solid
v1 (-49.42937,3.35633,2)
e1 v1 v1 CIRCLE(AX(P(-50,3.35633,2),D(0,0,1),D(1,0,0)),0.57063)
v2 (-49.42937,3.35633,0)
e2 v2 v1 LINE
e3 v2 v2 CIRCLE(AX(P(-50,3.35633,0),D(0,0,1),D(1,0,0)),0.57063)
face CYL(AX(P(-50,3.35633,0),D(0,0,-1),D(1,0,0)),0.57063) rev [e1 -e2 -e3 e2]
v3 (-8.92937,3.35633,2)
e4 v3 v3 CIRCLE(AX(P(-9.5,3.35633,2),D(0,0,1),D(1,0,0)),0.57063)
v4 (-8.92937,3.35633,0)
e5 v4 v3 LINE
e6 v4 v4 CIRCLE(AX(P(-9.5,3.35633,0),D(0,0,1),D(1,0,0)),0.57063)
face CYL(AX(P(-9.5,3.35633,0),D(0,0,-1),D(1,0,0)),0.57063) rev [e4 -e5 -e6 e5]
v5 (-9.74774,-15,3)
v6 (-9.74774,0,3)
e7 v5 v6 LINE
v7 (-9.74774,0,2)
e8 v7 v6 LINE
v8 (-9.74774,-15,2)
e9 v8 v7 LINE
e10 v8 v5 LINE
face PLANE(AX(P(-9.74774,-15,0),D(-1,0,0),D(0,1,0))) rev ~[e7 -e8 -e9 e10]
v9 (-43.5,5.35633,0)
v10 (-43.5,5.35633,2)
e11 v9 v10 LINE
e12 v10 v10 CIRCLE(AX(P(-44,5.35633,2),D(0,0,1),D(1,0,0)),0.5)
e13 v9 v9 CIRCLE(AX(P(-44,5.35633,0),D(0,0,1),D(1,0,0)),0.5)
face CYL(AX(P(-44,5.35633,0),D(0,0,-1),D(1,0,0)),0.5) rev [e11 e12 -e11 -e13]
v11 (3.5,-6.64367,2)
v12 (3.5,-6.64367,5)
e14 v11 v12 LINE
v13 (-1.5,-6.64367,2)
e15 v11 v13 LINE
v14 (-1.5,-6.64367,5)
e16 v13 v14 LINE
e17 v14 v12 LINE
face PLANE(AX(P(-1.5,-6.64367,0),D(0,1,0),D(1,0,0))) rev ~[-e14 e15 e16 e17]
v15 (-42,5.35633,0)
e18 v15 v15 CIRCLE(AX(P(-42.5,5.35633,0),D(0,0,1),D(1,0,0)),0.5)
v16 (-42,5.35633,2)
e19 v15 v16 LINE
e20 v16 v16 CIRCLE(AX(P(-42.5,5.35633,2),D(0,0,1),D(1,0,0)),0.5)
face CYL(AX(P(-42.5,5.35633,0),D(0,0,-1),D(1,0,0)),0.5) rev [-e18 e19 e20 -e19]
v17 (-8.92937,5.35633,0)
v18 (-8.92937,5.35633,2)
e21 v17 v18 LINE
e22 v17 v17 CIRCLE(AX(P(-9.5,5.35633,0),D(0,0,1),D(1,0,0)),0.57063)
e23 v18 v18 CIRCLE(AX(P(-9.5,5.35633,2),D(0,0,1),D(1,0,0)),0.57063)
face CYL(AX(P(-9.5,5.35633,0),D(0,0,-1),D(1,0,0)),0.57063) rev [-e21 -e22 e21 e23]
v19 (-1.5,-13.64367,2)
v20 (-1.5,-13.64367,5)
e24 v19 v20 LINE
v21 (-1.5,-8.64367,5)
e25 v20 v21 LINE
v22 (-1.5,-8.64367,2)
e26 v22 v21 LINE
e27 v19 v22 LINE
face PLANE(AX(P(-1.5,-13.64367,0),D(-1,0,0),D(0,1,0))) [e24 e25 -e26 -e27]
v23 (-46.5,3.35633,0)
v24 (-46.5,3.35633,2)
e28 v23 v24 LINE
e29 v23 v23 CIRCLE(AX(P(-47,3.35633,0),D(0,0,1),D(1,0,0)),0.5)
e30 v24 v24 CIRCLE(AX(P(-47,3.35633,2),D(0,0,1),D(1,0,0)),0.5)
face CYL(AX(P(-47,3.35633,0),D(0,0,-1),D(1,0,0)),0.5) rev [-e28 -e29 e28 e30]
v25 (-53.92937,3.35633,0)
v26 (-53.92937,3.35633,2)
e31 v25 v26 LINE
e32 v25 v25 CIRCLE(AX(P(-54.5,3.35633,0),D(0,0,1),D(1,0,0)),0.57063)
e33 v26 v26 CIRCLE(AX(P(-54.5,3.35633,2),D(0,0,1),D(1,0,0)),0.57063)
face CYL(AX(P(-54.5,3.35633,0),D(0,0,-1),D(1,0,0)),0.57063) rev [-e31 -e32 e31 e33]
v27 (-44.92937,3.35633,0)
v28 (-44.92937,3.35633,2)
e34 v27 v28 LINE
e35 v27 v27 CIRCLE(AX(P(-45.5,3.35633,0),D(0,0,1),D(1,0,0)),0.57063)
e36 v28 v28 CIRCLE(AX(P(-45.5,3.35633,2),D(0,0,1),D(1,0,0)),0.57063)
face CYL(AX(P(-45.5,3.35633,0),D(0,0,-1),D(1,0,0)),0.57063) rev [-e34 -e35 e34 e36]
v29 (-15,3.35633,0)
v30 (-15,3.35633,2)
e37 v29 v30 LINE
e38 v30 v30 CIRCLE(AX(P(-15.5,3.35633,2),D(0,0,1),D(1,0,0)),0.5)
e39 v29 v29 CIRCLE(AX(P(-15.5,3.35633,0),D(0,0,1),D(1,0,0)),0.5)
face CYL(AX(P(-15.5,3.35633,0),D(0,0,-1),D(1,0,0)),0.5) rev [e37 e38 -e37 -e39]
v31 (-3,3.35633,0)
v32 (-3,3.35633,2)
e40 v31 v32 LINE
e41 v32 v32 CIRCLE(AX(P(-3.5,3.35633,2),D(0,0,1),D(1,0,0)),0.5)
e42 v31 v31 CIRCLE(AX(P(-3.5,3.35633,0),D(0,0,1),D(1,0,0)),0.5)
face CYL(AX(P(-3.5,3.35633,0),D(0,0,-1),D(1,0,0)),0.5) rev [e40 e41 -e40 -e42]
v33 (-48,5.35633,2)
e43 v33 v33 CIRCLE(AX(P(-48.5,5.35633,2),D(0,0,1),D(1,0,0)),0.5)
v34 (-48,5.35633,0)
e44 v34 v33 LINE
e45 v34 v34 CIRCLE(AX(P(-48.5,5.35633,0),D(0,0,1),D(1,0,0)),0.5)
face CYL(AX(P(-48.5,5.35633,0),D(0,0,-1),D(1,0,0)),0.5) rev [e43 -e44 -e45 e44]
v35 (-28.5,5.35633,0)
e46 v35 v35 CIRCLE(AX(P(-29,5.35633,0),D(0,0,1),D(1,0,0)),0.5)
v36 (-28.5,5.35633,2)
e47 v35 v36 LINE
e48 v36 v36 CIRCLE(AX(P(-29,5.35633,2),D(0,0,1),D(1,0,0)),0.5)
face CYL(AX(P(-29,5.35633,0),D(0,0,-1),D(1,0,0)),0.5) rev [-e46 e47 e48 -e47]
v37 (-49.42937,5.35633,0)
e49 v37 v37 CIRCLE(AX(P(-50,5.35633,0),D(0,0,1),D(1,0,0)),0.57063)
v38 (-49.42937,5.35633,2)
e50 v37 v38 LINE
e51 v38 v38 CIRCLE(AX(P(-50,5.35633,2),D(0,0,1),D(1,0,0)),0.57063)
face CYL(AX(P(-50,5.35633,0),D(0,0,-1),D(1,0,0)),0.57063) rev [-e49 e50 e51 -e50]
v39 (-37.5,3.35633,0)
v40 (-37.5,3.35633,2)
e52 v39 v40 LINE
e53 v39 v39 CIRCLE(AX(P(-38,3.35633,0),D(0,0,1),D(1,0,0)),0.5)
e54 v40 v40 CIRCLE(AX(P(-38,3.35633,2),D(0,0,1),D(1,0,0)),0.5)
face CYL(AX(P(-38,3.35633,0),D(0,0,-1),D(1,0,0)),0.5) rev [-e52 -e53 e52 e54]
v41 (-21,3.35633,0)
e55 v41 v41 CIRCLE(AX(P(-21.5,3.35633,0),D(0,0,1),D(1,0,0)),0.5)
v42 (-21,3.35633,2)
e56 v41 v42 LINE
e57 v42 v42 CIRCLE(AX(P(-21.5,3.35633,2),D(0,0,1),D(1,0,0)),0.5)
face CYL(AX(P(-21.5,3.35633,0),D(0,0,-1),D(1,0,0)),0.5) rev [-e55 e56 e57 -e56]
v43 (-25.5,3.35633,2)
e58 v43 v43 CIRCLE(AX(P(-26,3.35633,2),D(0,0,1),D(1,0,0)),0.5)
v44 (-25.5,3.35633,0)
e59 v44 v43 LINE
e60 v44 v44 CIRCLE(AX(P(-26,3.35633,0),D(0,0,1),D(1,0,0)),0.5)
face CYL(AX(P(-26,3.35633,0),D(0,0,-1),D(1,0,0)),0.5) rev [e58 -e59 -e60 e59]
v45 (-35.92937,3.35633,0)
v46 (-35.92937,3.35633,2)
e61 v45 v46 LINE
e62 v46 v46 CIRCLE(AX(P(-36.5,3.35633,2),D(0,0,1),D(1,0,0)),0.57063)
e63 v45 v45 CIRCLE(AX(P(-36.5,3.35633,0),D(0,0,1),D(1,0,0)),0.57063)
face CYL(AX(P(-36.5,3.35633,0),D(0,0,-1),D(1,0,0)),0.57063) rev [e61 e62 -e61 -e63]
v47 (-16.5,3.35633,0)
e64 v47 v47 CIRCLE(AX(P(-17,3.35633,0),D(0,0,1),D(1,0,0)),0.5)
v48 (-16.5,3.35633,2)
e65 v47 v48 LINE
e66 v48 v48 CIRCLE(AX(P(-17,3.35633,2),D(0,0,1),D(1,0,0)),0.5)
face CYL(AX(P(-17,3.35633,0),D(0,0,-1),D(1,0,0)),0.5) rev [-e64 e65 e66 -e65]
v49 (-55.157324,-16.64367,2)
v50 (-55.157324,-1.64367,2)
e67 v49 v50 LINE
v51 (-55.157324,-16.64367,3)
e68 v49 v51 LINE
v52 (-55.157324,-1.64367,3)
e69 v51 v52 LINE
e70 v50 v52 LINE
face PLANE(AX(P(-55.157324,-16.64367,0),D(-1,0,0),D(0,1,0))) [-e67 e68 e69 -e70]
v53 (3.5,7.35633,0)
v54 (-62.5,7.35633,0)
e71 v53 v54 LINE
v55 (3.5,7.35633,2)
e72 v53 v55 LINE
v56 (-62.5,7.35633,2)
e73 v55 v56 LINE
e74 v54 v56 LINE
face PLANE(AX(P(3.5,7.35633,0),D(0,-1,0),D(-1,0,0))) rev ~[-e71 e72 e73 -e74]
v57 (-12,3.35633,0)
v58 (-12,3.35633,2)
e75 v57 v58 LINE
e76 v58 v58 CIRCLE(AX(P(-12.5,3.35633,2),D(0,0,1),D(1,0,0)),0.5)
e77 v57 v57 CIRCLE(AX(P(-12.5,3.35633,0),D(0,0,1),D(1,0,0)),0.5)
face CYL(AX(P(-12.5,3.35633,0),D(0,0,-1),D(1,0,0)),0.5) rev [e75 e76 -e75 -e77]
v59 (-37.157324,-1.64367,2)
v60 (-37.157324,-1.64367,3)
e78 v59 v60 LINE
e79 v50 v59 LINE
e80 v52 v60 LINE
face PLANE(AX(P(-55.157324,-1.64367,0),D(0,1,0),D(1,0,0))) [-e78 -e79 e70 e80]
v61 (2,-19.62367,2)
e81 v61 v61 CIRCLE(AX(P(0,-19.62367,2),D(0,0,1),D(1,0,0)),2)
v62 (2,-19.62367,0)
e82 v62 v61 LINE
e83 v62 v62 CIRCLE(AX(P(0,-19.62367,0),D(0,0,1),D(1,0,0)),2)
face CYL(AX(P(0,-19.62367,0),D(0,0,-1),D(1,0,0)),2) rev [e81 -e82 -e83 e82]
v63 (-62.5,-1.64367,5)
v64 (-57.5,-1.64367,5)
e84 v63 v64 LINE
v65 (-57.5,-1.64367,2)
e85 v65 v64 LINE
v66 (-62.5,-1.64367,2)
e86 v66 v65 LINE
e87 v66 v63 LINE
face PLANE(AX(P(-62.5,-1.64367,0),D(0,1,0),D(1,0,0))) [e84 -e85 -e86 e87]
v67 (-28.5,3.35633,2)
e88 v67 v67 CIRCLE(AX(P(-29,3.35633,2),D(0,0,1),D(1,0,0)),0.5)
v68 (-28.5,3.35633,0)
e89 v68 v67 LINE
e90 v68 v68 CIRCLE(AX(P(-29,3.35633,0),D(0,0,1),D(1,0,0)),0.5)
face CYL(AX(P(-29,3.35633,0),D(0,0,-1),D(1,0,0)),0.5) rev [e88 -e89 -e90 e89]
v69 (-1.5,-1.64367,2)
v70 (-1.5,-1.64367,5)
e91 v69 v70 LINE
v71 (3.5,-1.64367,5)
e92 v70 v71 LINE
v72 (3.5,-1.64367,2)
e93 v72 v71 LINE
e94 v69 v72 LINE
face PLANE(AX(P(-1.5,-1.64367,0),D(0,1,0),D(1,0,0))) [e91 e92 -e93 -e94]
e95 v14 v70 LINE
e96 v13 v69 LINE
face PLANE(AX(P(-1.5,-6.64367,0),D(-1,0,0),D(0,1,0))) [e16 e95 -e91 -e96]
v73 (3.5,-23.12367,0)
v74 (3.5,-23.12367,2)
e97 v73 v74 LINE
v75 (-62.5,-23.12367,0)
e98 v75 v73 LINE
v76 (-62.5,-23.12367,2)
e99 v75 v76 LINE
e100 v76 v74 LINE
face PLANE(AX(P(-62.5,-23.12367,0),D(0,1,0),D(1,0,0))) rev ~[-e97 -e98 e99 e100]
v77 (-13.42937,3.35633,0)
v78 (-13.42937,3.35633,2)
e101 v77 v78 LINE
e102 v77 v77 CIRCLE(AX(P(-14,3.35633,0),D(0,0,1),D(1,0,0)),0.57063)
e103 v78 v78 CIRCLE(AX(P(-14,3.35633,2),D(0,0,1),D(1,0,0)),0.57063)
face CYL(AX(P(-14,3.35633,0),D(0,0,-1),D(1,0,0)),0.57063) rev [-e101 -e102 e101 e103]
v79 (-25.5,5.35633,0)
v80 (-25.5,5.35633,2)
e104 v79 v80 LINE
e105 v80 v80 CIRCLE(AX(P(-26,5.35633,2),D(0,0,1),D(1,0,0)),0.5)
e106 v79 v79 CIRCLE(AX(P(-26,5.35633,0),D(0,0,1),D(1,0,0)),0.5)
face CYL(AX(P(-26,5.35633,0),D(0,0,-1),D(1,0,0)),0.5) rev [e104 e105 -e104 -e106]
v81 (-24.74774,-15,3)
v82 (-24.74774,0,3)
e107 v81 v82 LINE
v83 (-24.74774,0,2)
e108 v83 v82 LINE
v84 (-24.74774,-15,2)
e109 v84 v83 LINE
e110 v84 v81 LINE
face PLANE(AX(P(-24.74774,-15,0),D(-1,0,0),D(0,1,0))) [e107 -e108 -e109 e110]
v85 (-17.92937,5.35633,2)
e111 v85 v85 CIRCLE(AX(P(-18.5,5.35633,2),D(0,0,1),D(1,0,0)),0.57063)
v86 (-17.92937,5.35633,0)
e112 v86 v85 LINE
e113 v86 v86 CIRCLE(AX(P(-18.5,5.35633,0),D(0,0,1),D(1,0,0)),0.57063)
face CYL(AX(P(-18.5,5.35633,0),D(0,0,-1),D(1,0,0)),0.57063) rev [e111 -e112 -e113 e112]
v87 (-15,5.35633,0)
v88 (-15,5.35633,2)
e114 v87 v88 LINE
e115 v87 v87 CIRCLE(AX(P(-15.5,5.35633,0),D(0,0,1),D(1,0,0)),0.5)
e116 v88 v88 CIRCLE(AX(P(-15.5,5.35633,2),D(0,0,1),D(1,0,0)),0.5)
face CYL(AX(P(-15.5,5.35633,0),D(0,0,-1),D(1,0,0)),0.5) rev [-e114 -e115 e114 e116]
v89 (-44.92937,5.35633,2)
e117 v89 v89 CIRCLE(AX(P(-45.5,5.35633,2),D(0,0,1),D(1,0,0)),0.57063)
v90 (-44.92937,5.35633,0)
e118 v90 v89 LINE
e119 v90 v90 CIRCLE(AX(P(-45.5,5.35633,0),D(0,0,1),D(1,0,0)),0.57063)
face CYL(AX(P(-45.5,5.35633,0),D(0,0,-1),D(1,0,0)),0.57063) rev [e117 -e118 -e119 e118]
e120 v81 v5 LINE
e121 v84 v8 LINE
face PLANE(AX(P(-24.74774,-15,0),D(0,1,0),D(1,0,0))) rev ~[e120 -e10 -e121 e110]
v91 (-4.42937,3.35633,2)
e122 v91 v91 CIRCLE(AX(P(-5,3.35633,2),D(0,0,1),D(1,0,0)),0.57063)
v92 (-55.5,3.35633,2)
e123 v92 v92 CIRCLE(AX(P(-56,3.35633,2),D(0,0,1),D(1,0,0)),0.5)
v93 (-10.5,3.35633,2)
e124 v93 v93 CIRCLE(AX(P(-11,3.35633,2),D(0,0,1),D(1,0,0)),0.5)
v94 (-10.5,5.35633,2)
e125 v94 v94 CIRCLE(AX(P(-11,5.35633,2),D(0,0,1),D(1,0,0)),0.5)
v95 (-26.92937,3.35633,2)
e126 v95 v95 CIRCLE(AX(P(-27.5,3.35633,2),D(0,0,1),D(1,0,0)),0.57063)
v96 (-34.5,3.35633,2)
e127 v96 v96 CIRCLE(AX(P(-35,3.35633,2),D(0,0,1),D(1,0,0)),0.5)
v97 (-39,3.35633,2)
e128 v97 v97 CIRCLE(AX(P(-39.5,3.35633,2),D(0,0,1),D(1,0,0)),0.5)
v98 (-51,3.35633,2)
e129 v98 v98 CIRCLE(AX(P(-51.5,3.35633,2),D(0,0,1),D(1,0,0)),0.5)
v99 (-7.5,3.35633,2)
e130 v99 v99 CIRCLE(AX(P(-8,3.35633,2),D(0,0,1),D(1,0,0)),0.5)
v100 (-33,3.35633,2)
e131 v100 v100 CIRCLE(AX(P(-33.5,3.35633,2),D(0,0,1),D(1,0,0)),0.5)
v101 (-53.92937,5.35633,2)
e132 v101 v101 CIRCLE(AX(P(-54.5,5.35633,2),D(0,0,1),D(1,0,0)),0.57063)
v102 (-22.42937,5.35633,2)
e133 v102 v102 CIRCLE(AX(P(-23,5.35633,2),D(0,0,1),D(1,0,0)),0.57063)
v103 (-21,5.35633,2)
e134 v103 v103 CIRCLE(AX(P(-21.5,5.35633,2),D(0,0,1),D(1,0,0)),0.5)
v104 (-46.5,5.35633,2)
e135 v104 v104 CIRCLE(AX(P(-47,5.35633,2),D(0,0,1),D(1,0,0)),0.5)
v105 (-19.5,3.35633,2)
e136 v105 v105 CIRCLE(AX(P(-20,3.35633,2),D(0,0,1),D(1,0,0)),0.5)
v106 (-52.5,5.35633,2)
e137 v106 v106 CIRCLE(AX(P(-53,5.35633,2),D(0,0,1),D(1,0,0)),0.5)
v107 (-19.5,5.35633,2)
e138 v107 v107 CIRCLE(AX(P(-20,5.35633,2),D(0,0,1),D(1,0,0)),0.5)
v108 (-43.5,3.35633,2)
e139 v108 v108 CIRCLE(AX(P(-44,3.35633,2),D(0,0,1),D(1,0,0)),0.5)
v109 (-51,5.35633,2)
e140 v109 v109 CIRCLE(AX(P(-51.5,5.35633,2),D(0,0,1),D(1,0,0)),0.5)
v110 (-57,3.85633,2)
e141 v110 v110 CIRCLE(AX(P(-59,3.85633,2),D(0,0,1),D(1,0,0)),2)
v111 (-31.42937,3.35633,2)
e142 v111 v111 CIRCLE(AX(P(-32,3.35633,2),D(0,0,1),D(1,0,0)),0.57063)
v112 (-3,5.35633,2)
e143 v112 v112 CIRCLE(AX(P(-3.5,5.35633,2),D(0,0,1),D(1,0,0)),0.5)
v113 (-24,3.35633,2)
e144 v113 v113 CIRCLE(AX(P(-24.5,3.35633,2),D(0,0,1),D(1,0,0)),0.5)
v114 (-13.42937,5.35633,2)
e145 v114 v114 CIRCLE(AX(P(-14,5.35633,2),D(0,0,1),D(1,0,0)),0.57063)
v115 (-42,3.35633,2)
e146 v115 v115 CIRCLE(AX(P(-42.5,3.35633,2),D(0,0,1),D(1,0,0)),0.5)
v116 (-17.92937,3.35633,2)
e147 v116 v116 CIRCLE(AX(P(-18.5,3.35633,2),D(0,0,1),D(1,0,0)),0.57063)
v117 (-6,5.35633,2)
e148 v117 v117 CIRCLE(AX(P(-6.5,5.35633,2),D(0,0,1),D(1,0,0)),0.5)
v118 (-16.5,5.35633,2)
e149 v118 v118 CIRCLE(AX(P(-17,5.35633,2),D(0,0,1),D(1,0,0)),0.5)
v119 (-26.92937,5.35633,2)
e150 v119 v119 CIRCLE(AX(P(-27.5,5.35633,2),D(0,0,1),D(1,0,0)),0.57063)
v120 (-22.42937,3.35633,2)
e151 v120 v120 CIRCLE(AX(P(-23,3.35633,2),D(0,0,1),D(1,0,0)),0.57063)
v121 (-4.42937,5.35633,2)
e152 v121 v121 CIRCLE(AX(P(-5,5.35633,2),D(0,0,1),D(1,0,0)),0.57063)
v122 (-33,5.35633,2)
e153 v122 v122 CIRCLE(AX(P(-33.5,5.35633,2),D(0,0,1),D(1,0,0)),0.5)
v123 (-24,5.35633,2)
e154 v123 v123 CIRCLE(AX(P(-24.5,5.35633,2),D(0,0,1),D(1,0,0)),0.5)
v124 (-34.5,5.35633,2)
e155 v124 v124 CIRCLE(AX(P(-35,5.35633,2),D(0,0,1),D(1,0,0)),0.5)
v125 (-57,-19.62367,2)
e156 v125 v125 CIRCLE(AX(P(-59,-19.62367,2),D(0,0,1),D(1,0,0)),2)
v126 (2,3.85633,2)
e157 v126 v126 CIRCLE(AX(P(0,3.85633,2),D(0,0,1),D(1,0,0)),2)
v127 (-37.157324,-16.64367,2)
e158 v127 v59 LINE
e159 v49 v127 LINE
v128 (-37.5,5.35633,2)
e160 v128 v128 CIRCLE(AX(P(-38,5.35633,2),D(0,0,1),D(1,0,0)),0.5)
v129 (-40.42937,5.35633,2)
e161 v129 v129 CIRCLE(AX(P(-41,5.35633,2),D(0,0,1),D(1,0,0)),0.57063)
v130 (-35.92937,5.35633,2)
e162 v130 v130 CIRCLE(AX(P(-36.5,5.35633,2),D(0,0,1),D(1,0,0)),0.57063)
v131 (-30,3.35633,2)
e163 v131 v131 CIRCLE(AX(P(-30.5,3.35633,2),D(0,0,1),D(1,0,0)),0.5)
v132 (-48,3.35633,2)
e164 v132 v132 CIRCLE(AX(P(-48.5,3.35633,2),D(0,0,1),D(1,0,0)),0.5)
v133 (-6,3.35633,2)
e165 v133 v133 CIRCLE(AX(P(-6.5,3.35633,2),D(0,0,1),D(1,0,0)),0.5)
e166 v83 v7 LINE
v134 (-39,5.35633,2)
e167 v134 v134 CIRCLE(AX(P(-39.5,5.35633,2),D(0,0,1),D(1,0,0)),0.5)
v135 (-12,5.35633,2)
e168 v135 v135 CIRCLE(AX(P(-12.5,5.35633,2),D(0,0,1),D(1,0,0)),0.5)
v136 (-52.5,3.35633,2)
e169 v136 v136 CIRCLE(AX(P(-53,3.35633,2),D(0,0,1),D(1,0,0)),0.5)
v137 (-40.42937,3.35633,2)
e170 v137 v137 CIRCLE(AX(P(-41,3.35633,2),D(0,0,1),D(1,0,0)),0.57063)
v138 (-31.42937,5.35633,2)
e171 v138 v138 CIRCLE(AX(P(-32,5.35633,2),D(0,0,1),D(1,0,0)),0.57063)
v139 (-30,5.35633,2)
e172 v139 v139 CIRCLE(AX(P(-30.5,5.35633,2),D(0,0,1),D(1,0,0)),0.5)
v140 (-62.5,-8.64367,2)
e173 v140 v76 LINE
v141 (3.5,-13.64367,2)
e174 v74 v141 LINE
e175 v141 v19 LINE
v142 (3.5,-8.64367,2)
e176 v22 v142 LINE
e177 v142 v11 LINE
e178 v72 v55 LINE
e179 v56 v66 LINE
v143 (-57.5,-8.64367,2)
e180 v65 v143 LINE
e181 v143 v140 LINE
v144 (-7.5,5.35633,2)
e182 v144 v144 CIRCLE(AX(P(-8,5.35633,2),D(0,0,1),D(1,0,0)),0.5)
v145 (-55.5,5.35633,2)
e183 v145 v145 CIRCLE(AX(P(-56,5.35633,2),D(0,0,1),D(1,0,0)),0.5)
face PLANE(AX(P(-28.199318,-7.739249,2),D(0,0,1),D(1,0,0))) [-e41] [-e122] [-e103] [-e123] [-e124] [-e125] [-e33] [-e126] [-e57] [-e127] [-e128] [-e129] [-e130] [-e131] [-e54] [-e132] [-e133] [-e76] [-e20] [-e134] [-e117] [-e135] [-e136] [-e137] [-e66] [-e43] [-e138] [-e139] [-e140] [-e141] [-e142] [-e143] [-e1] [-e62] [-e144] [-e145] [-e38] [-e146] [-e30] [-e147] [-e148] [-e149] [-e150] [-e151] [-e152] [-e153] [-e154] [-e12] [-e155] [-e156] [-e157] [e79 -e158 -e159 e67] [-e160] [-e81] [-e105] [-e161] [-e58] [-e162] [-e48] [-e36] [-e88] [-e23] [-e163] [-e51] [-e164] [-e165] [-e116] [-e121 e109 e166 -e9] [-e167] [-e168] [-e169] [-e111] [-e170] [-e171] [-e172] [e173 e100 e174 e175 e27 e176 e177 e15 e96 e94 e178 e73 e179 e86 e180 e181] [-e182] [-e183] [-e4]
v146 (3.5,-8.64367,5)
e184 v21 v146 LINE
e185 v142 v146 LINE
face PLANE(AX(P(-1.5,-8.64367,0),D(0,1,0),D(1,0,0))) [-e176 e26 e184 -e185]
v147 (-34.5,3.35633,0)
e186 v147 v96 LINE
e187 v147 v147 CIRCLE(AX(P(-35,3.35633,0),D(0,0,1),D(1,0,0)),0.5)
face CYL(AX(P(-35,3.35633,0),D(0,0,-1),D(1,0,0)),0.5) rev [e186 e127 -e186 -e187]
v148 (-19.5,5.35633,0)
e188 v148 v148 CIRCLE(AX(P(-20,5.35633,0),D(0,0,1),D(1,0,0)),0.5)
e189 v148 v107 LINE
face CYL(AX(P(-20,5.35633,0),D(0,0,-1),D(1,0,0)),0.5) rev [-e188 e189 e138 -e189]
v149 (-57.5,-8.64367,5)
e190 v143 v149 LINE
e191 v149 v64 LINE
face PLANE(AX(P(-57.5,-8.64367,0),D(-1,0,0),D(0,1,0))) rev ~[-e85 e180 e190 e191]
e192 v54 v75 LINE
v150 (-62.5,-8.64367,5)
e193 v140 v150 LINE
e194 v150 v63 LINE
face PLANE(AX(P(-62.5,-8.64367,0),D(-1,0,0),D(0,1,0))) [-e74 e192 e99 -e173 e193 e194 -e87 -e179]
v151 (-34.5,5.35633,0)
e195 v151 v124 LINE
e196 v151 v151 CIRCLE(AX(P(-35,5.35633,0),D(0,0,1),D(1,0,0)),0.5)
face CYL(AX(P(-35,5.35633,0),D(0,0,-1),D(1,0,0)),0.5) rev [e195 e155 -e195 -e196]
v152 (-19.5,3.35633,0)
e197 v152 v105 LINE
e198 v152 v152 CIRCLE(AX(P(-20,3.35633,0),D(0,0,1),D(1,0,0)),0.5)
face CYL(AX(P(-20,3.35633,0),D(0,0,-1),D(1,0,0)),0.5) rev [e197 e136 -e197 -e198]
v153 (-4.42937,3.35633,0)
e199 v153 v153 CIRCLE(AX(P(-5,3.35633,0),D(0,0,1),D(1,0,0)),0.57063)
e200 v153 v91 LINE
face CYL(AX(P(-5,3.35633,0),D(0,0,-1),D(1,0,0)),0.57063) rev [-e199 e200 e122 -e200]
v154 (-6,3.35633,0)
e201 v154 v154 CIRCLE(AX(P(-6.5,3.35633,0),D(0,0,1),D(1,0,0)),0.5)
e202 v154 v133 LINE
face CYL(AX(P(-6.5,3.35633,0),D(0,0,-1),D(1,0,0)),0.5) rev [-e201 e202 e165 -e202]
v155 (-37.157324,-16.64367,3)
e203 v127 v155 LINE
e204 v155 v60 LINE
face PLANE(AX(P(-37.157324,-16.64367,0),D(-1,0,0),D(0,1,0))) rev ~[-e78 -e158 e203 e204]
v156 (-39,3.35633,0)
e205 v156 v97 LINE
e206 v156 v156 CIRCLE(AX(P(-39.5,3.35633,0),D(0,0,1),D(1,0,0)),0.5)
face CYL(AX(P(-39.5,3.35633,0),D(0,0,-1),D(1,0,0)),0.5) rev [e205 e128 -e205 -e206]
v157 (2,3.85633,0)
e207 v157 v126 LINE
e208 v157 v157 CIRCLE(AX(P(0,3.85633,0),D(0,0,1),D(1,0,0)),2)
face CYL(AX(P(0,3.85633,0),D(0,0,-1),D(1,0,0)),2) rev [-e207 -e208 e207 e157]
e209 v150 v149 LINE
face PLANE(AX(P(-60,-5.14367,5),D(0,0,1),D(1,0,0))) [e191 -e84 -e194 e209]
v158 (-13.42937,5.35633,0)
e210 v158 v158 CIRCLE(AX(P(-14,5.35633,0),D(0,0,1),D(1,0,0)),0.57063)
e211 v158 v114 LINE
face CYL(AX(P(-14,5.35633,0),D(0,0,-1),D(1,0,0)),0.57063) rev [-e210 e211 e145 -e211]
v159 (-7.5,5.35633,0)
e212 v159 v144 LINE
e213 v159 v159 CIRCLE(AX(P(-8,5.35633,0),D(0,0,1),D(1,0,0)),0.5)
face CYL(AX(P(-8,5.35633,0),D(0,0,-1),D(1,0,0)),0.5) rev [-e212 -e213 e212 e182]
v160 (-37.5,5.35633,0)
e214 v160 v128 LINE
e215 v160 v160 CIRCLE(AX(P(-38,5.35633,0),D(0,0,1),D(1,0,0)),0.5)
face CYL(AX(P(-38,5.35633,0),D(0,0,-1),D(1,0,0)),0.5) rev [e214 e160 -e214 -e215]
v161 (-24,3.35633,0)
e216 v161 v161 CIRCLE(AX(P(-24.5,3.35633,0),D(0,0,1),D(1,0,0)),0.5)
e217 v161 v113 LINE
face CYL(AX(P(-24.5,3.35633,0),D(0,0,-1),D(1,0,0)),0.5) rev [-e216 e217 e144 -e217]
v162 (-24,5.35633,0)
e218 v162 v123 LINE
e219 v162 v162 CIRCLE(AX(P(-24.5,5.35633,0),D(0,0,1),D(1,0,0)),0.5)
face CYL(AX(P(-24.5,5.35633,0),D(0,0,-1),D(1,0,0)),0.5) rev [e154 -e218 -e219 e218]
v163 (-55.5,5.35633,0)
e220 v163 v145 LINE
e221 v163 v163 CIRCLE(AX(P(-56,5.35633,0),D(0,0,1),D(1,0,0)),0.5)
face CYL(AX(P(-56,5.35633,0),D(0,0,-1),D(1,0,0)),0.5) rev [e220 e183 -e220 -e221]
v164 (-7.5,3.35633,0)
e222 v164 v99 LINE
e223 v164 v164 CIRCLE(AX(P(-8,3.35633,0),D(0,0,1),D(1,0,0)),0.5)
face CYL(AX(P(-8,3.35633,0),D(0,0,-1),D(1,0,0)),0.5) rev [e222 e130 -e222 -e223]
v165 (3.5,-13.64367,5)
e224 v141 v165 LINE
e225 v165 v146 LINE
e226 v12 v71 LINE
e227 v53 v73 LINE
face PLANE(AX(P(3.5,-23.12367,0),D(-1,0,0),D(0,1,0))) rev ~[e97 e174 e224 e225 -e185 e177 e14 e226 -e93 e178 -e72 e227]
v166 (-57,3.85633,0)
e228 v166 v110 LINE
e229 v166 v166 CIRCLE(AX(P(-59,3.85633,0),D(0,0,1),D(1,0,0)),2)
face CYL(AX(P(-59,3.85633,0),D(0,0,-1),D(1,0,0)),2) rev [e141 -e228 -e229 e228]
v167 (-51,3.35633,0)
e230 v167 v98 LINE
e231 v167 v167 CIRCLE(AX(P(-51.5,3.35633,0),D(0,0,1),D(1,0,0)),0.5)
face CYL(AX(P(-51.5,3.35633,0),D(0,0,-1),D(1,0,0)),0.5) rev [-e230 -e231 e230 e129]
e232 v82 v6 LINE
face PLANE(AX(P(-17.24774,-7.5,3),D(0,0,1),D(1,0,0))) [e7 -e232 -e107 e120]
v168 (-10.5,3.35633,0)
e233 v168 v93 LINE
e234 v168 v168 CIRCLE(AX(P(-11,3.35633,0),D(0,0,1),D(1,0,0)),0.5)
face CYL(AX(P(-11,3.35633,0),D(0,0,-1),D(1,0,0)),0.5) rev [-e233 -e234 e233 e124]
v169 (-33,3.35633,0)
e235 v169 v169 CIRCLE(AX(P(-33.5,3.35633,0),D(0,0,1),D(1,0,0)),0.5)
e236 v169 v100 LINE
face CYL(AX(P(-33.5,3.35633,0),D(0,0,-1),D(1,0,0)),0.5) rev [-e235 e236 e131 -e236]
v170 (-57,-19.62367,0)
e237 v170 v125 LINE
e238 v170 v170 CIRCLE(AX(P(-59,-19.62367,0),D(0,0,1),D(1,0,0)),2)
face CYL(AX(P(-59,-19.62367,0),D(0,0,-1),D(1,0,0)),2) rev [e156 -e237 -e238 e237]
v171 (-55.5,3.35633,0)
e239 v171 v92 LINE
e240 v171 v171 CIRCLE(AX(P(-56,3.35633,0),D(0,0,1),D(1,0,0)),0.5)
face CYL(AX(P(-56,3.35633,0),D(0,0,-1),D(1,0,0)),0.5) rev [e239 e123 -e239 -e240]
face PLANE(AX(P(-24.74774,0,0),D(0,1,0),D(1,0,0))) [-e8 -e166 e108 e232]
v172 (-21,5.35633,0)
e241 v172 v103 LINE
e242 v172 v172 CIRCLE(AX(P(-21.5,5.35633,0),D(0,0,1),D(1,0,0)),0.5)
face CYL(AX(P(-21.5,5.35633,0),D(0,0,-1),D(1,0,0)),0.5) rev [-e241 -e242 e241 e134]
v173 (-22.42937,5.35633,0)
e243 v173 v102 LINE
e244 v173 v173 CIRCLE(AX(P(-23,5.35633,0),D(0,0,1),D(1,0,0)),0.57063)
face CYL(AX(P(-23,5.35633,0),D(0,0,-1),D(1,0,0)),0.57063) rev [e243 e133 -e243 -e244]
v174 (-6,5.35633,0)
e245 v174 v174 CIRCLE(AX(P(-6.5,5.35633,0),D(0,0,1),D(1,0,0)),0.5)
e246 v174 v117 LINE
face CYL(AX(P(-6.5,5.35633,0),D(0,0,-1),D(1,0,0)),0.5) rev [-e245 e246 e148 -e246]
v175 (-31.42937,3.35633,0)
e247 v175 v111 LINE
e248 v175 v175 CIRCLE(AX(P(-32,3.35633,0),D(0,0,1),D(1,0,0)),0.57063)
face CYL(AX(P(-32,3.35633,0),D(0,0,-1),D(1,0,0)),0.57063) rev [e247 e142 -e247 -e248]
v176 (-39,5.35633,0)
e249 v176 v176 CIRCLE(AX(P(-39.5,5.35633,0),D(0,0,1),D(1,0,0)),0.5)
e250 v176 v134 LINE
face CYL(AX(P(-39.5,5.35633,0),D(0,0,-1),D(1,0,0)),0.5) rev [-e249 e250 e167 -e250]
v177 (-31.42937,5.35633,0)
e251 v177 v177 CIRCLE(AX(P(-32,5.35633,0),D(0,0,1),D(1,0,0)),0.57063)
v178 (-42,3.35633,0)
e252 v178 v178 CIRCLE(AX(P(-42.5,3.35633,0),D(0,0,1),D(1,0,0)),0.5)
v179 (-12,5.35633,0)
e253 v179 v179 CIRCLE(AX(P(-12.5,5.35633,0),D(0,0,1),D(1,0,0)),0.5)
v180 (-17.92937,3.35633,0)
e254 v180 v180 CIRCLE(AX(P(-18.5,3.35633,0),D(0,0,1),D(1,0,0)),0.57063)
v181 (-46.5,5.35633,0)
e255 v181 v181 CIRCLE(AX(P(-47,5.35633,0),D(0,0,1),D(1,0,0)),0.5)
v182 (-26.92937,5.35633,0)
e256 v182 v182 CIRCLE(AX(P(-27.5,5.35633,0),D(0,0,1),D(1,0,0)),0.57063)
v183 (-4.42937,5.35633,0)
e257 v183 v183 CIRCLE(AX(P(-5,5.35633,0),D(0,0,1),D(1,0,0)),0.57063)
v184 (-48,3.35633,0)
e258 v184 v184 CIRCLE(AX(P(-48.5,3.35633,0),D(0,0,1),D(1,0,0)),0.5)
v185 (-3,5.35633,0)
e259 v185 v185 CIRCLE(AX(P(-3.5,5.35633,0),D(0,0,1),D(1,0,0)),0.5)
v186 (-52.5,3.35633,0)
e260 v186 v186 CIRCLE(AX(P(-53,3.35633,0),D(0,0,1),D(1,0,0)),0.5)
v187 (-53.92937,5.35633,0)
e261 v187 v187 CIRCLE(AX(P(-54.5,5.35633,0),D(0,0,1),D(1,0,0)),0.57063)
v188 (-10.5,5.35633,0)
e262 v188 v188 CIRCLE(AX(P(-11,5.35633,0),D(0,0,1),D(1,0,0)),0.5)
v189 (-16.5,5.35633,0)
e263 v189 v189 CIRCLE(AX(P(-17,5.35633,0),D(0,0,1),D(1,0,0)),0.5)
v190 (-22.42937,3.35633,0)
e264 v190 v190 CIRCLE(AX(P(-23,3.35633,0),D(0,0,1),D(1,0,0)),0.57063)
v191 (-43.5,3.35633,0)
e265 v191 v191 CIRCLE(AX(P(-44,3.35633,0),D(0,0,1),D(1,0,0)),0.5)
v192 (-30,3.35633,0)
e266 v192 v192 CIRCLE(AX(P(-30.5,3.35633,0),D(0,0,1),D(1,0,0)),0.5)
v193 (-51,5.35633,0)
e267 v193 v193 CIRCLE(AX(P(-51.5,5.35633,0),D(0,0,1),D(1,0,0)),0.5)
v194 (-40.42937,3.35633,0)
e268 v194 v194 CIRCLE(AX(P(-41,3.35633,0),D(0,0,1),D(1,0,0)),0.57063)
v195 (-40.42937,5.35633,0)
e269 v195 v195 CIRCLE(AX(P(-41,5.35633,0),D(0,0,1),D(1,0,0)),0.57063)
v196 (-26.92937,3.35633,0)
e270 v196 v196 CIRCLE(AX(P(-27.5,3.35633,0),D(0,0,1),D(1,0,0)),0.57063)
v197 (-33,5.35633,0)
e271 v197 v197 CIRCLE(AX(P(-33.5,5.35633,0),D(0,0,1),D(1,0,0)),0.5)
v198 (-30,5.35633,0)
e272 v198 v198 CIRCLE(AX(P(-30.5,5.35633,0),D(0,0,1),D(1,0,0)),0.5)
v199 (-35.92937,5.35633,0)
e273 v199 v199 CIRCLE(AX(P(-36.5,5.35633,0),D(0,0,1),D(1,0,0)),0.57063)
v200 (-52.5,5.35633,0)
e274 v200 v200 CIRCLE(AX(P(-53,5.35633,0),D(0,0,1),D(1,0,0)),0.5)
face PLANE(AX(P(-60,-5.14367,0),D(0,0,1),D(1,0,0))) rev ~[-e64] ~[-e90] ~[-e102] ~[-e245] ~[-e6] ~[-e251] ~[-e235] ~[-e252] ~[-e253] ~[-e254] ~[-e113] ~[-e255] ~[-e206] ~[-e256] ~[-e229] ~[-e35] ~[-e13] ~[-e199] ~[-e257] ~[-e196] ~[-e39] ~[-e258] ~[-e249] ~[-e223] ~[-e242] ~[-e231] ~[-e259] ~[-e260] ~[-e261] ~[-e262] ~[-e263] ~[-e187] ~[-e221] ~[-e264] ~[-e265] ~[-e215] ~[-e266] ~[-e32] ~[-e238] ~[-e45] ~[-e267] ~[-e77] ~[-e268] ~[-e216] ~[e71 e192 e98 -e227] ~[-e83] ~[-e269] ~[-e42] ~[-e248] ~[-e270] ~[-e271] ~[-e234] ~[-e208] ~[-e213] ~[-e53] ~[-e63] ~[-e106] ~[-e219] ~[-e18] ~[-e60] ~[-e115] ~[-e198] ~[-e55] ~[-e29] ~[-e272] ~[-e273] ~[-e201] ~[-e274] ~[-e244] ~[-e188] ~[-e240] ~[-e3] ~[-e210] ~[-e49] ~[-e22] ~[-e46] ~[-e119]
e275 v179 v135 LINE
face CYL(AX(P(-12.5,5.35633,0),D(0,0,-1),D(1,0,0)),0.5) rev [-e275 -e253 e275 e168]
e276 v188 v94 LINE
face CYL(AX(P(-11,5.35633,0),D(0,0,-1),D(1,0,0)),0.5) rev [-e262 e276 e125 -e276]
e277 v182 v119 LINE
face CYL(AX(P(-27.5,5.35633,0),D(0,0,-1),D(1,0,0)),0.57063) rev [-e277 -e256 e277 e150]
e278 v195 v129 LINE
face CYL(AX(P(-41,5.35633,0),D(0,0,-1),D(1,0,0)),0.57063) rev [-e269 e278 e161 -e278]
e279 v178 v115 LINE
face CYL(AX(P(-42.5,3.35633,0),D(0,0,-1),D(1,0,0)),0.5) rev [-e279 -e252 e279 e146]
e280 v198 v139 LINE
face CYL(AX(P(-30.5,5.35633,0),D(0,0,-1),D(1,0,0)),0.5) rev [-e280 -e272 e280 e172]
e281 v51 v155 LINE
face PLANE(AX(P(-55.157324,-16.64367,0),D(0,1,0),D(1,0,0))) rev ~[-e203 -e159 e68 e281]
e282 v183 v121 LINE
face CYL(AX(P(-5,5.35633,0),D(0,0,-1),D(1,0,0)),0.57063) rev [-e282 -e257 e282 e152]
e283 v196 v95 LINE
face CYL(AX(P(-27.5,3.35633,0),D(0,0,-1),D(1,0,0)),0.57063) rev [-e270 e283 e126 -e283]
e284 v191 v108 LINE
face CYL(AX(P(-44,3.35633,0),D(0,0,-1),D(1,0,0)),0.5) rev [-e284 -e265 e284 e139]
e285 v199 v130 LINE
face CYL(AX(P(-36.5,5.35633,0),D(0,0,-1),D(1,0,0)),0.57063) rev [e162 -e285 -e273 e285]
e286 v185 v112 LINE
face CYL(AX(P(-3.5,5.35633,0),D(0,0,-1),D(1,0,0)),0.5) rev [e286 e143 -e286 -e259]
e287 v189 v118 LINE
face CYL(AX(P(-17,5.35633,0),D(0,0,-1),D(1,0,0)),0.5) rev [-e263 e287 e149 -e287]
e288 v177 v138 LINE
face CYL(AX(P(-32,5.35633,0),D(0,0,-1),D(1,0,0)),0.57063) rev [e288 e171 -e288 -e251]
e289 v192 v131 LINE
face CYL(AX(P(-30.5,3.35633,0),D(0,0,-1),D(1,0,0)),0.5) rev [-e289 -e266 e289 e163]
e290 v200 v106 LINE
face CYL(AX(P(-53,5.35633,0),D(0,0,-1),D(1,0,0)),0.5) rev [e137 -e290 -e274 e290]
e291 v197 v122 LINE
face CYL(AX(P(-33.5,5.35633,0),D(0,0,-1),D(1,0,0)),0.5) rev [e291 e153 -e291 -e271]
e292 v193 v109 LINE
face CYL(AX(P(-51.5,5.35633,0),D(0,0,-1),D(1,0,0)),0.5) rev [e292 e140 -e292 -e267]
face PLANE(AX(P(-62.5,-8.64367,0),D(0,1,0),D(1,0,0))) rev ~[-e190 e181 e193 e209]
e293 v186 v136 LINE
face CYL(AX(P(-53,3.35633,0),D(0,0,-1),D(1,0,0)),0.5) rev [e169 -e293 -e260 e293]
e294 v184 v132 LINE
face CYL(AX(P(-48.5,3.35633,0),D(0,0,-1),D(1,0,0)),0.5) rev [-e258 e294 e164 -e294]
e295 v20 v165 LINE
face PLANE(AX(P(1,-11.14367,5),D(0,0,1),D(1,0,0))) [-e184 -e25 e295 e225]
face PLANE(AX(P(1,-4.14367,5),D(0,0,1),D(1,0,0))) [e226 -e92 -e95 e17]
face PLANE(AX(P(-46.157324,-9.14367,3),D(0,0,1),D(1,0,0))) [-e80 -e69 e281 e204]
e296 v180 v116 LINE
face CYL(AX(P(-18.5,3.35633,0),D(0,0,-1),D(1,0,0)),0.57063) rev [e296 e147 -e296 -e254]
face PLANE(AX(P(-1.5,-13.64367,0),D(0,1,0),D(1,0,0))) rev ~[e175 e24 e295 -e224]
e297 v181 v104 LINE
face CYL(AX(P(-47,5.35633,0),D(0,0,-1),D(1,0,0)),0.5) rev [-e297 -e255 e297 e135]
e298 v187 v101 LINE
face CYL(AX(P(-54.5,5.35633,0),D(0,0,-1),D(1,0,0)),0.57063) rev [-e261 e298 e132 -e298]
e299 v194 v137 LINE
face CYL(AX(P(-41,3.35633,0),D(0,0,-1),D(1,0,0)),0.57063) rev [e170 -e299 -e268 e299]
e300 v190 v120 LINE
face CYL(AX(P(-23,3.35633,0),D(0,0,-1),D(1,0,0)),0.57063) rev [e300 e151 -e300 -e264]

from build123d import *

# Parameters (mm, degrees)
SKETCH1_R           = 2
SKETCH1_W           = 18
SKETCH1_H           = 15
SKETCH1_R_2         = 0.5
SKETCH1_R_3         = 0.5706303
SKETCH1_W_2         = 15
BOSS_EXTRUDE1_DEPTH = 2
SKETCH1_3_W         = 5
SKETCH1_3_H         = 7
SKETCH1_3_H_2       = 5
BOSS_EXTRUDE2_DEPTH = 5
SKETCH1_4_W         = 15
SKETCH1_4_H         = 15
SKETCH1_4_W_2       = 18
BOSS_EXTRUDE3_DEPTH = 3


with BuildPart() as part:
    # Sketch1 → Boss-Extrude1 (new body)
    with BuildSketch(Plane.XY):
        Polygon((3.5, 7.35633001), (-62.5, 7.35633001), (-62.5, -1.64366999), (-57.5, -1.64366999), (-57.5, -8.64366999), (-62.5, -8.64366999), (-62.5, -23.12366999), (3.5, -23.12366999), (3.5, -13.64366999), (-1.5, -13.64366999), (-1.5, -8.64366999), (3.5, -8.64366999), (3.5, -6.64366999), (-1.5, -6.64366999), (-1.5, -1.64366999), (3.5, -1.64366999), align=None)
        with Locations((-59, -19.62366999)):
            Circle(SKETCH1_R, mode=Mode.SUBTRACT)
        with Locations((-46.157324482, -9.14366999)):
            Rectangle(SKETCH1_W, SKETCH1_H, mode=Mode.SUBTRACT)
        with Locations((0, -19.62366999)):
            Circle(SKETCH1_R, mode=Mode.SUBTRACT)
        with Locations((-56, 3.35633001)):
            Circle(SKETCH1_R_2, mode=Mode.SUBTRACT)
        with Locations((-54.5, 3.35633001)):
            Circle(SKETCH1_R_3, mode=Mode.SUBTRACT)
        with Locations((-53, 3.35633001)):
            Circle(SKETCH1_R_2, mode=Mode.SUBTRACT)
        with Locations((-51.5, 3.35633001)):
            Circle(SKETCH1_R_2, mode=Mode.SUBTRACT)
        with Locations((-50, 3.35633001)):
            Circle(SKETCH1_R_3, mode=Mode.SUBTRACT)
        with Locations((-48.5, 3.35633001)):
            Circle(SKETCH1_R_2, mode=Mode.SUBTRACT)
        with Locations((-47, 3.35633001)):
            Circle(SKETCH1_R_2, mode=Mode.SUBTRACT)
        with Locations((-59, 3.85633001)):
            Circle(SKETCH1_R, mode=Mode.SUBTRACT)
        with Locations((-56, 5.35633001)):
            Circle(SKETCH1_R_2, mode=Mode.SUBTRACT)
        with Locations((-54.5, 5.35633001)):
            Circle(SKETCH1_R_3, mode=Mode.SUBTRACT)
        with Locations((-53, 5.35633001)):
            Circle(SKETCH1_R_2, mode=Mode.SUBTRACT)
        with Locations((-51.5, 5.35633001)):
            Circle(SKETCH1_R_2, mode=Mode.SUBTRACT)
        with Locations((-50, 5.35633001)):
            Circle(SKETCH1_R_3, mode=Mode.SUBTRACT)
        with Locations((-48.5, 5.35633001)):
            Circle(SKETCH1_R_2, mode=Mode.SUBTRACT)
        with Locations((-47, 5.35633001)):
            Circle(SKETCH1_R_2, mode=Mode.SUBTRACT)
        with Locations((-45.5, 3.35633001)):
            Circle(SKETCH1_R_3, mode=Mode.SUBTRACT)
        with Locations((-44, 3.35633001)):
            Circle(SKETCH1_R_2, mode=Mode.SUBTRACT)
        with Locations((-42.5, 3.35633001)):
            Circle(SKETCH1_R_2, mode=Mode.SUBTRACT)
        with Locations((-41, 3.35633001)):
            Circle(SKETCH1_R_3, mode=Mode.SUBTRACT)
        with Locations((-39.5, 3.35633001)):
            Circle(SKETCH1_R_2, mode=Mode.SUBTRACT)
        with Locations((-38, 3.35633001)):
            Circle(SKETCH1_R_2, mode=Mode.SUBTRACT)
        with Locations((-36.5, 3.35633001)):
            Circle(SKETCH1_R_3, mode=Mode.SUBTRACT)
        with Locations((-35, 3.35633001)):
            Circle(SKETCH1_R_2, mode=Mode.SUBTRACT)
        with Locations((-33.5, 3.35633001)):
            Circle(SKETCH1_R_2, mode=Mode.SUBTRACT)
        with Locations((-32, 3.35633001)):
            Circle(SKETCH1_R_3, mode=Mode.SUBTRACT)
        with Locations((-30.5, 3.35633001)):
            Circle(SKETCH1_R_2, mode=Mode.SUBTRACT)
        with Locations((-45.5, 5.35633001)):
            Circle(SKETCH1_R_3, mode=Mode.SUBTRACT)
        with Locations((-44, 5.35633001)):
            Circle(SKETCH1_R_2, mode=Mode.SUBTRACT)
        with Locations((-42.5, 5.35633001)):
            Circle(SKETCH1_R_2, mode=Mode.SUBTRACT)
        with Locations((-41, 5.35633001)):
            Circle(SKETCH1_R_3, mode=Mode.SUBTRACT)
        with Locations((-39.5, 5.35633001)):
            Circle(SKETCH1_R_2, mode=Mode.SUBTRACT)
        with Locations((-38, 5.35633001)):
            Circle(SKETCH1_R_2, mode=Mode.SUBTRACT)
        with Locations((-36.5, 5.35633001)):
            Circle(SKETCH1_R_3, mode=Mode.SUBTRACT)
        with Locations((-35, 5.35633001)):
            Circle(SKETCH1_R_2, mode=Mode.SUBTRACT)
        with Locations((-33.5, 5.35633001)):
            Circle(SKETCH1_R_2, mode=Mode.SUBTRACT)
        with Locations((-32, 5.35633001)):
            Circle(SKETCH1_R_3, mode=Mode.SUBTRACT)
        with Locations((-30.5, 5.35633001)):
            Circle(SKETCH1_R_2, mode=Mode.SUBTRACT)
        with Locations((-17.247739958, -7.5)):
            Rectangle(SKETCH1_W_2, SKETCH1_H, mode=Mode.SUBTRACT)
        with Locations((-29, 3.35633001)):
            Circle(SKETCH1_R_2, mode=Mode.SUBTRACT)
        with Locations((-27.5, 3.35633001)):
            Circle(SKETCH1_R_3, mode=Mode.SUBTRACT)
        with Locations((-26, 3.35633001)):
            Circle(SKETCH1_R_2, mode=Mode.SUBTRACT)
        with Locations((-24.5, 3.35633001)):
            Circle(SKETCH1_R_2, mode=Mode.SUBTRACT)
        with Locations((-23, 3.35633001)):
            Circle(SKETCH1_R_3, mode=Mode.SUBTRACT)
        with Locations((-21.5, 3.35633001)):
            Circle(SKETCH1_R_2, mode=Mode.SUBTRACT)
        with Locations((-20, 3.35633001)):
            Circle(SKETCH1_R_2, mode=Mode.SUBTRACT)
        with Locations((-18.5, 3.35633001)):
            Circle(SKETCH1_R_3, mode=Mode.SUBTRACT)
        with Locations((-17, 3.35633001)):
            Circle(SKETCH1_R_2, mode=Mode.SUBTRACT)
        with Locations((-15.5, 3.35633001)):
            Circle(SKETCH1_R_2, mode=Mode.SUBTRACT)
        with Locations((-14, 3.35633001)):
            Circle(SKETCH1_R_3, mode=Mode.SUBTRACT)
        with Locations((-29, 5.35633001)):
            Circle(SKETCH1_R_2, mode=Mode.SUBTRACT)
        with Locations((-27.5, 5.35633001)):
            Circle(SKETCH1_R_3, mode=Mode.SUBTRACT)
        with Locations((-26, 5.35633001)):
            Circle(SKETCH1_R_2, mode=Mode.SUBTRACT)
        with Locations((-24.5, 5.35633001)):
            Circle(SKETCH1_R_2, mode=Mode.SUBTRACT)
        with Locations((-23, 5.35633001)):
            Circle(SKETCH1_R_3, mode=Mode.SUBTRACT)
        with Locations((-21.5, 5.35633001)):
            Circle(SKETCH1_R_2, mode=Mode.SUBTRACT)
        with Locations((-20, 5.35633001)):
            Circle(SKETCH1_R_2, mode=Mode.SUBTRACT)
        with Locations((-18.5, 5.35633001)):
            Circle(SKETCH1_R_3, mode=Mode.SUBTRACT)
        with Locations((-17, 5.35633001)):
            Circle(SKETCH1_R_2, mode=Mode.SUBTRACT)
        with Locations((-15.5, 5.35633001)):
            Circle(SKETCH1_R_2, mode=Mode.SUBTRACT)
        with Locations((-14, 5.35633001)):
            Circle(SKETCH1_R_3, mode=Mode.SUBTRACT)
        with Locations((-12.5, 3.35633001)):
            Circle(SKETCH1_R_2, mode=Mode.SUBTRACT)
        with Locations((-11, 3.35633001)):
            Circle(SKETCH1_R_2, mode=Mode.SUBTRACT)
        with Locations((-9.5, 3.35633001)):
            Circle(SKETCH1_R_3, mode=Mode.SUBTRACT)
        with Locations((-8, 3.35633001)):
            Circle(SKETCH1_R_2, mode=Mode.SUBTRACT)
        with Locations((-6.5, 3.35633001)):
            Circle(SKETCH1_R_2, mode=Mode.SUBTRACT)
        with Locations((-5, 3.35633001)):
            Circle(SKETCH1_R_3, mode=Mode.SUBTRACT)
        with Locations((-3.5, 3.35633001)):
            Circle(SKETCH1_R_2, mode=Mode.SUBTRACT)
        with Locations((-12.5, 5.35633001)):
            Circle(SKETCH1_R_2, mode=Mode.SUBTRACT)
        with Locations((-11, 5.35633001)):
            Circle(SKETCH1_R_2, mode=Mode.SUBTRACT)
        with Locations((-9.5, 5.35633001)):
            Circle(SKETCH1_R_3, mode=Mode.SUBTRACT)
        with Locations((-8, 5.35633001)):
            Circle(SKETCH1_R_2, mode=Mode.SUBTRACT)
        with Locations((-6.5, 5.35633001)):
            Circle(SKETCH1_R_2, mode=Mode.SUBTRACT)
        with Locations((-5, 5.35633001)):
            Circle(SKETCH1_R_3, mode=Mode.SUBTRACT)
        with Locations((-3.5, 5.35633001)):
            Circle(SKETCH1_R_2, mode=Mode.SUBTRACT)
        with Locations((0, 3.85633001)):
            Circle(SKETCH1_R, mode=Mode.SUBTRACT)
    extrude(amount=BOSS_EXTRUDE1_DEPTH)

    # Sketch1<3> → Boss-Extrude2 (add)
    with BuildSketch(Plane.XY):
        with Locations((-60, -5.14366999)):
            Rectangle(SKETCH1_3_W, SKETCH1_3_H)
        with Locations((1, -4.14366999)):
            Rectangle(SKETCH1_3_W, SKETCH1_3_H_2)
        with Locations((1, -11.14366999)):
            Rectangle(SKETCH1_3_W, SKETCH1_3_H_2)
    extrude(amount=BOSS_EXTRUDE2_DEPTH)

    # Sketch1<4> → Boss-Extrude3 (add)
    with BuildSketch(Plane.XY):
        with Locations((-17.247739958, -7.5)):
            Rectangle(SKETCH1_4_W, SKETCH1_4_H)
        with Locations((-46.157324482, -9.14366999)):
            Rectangle(SKETCH1_4_W_2, SKETCH1_4_H)
    extrude(amount=BOSS_EXTRUDE3_DEPTH)


solid = part.part
